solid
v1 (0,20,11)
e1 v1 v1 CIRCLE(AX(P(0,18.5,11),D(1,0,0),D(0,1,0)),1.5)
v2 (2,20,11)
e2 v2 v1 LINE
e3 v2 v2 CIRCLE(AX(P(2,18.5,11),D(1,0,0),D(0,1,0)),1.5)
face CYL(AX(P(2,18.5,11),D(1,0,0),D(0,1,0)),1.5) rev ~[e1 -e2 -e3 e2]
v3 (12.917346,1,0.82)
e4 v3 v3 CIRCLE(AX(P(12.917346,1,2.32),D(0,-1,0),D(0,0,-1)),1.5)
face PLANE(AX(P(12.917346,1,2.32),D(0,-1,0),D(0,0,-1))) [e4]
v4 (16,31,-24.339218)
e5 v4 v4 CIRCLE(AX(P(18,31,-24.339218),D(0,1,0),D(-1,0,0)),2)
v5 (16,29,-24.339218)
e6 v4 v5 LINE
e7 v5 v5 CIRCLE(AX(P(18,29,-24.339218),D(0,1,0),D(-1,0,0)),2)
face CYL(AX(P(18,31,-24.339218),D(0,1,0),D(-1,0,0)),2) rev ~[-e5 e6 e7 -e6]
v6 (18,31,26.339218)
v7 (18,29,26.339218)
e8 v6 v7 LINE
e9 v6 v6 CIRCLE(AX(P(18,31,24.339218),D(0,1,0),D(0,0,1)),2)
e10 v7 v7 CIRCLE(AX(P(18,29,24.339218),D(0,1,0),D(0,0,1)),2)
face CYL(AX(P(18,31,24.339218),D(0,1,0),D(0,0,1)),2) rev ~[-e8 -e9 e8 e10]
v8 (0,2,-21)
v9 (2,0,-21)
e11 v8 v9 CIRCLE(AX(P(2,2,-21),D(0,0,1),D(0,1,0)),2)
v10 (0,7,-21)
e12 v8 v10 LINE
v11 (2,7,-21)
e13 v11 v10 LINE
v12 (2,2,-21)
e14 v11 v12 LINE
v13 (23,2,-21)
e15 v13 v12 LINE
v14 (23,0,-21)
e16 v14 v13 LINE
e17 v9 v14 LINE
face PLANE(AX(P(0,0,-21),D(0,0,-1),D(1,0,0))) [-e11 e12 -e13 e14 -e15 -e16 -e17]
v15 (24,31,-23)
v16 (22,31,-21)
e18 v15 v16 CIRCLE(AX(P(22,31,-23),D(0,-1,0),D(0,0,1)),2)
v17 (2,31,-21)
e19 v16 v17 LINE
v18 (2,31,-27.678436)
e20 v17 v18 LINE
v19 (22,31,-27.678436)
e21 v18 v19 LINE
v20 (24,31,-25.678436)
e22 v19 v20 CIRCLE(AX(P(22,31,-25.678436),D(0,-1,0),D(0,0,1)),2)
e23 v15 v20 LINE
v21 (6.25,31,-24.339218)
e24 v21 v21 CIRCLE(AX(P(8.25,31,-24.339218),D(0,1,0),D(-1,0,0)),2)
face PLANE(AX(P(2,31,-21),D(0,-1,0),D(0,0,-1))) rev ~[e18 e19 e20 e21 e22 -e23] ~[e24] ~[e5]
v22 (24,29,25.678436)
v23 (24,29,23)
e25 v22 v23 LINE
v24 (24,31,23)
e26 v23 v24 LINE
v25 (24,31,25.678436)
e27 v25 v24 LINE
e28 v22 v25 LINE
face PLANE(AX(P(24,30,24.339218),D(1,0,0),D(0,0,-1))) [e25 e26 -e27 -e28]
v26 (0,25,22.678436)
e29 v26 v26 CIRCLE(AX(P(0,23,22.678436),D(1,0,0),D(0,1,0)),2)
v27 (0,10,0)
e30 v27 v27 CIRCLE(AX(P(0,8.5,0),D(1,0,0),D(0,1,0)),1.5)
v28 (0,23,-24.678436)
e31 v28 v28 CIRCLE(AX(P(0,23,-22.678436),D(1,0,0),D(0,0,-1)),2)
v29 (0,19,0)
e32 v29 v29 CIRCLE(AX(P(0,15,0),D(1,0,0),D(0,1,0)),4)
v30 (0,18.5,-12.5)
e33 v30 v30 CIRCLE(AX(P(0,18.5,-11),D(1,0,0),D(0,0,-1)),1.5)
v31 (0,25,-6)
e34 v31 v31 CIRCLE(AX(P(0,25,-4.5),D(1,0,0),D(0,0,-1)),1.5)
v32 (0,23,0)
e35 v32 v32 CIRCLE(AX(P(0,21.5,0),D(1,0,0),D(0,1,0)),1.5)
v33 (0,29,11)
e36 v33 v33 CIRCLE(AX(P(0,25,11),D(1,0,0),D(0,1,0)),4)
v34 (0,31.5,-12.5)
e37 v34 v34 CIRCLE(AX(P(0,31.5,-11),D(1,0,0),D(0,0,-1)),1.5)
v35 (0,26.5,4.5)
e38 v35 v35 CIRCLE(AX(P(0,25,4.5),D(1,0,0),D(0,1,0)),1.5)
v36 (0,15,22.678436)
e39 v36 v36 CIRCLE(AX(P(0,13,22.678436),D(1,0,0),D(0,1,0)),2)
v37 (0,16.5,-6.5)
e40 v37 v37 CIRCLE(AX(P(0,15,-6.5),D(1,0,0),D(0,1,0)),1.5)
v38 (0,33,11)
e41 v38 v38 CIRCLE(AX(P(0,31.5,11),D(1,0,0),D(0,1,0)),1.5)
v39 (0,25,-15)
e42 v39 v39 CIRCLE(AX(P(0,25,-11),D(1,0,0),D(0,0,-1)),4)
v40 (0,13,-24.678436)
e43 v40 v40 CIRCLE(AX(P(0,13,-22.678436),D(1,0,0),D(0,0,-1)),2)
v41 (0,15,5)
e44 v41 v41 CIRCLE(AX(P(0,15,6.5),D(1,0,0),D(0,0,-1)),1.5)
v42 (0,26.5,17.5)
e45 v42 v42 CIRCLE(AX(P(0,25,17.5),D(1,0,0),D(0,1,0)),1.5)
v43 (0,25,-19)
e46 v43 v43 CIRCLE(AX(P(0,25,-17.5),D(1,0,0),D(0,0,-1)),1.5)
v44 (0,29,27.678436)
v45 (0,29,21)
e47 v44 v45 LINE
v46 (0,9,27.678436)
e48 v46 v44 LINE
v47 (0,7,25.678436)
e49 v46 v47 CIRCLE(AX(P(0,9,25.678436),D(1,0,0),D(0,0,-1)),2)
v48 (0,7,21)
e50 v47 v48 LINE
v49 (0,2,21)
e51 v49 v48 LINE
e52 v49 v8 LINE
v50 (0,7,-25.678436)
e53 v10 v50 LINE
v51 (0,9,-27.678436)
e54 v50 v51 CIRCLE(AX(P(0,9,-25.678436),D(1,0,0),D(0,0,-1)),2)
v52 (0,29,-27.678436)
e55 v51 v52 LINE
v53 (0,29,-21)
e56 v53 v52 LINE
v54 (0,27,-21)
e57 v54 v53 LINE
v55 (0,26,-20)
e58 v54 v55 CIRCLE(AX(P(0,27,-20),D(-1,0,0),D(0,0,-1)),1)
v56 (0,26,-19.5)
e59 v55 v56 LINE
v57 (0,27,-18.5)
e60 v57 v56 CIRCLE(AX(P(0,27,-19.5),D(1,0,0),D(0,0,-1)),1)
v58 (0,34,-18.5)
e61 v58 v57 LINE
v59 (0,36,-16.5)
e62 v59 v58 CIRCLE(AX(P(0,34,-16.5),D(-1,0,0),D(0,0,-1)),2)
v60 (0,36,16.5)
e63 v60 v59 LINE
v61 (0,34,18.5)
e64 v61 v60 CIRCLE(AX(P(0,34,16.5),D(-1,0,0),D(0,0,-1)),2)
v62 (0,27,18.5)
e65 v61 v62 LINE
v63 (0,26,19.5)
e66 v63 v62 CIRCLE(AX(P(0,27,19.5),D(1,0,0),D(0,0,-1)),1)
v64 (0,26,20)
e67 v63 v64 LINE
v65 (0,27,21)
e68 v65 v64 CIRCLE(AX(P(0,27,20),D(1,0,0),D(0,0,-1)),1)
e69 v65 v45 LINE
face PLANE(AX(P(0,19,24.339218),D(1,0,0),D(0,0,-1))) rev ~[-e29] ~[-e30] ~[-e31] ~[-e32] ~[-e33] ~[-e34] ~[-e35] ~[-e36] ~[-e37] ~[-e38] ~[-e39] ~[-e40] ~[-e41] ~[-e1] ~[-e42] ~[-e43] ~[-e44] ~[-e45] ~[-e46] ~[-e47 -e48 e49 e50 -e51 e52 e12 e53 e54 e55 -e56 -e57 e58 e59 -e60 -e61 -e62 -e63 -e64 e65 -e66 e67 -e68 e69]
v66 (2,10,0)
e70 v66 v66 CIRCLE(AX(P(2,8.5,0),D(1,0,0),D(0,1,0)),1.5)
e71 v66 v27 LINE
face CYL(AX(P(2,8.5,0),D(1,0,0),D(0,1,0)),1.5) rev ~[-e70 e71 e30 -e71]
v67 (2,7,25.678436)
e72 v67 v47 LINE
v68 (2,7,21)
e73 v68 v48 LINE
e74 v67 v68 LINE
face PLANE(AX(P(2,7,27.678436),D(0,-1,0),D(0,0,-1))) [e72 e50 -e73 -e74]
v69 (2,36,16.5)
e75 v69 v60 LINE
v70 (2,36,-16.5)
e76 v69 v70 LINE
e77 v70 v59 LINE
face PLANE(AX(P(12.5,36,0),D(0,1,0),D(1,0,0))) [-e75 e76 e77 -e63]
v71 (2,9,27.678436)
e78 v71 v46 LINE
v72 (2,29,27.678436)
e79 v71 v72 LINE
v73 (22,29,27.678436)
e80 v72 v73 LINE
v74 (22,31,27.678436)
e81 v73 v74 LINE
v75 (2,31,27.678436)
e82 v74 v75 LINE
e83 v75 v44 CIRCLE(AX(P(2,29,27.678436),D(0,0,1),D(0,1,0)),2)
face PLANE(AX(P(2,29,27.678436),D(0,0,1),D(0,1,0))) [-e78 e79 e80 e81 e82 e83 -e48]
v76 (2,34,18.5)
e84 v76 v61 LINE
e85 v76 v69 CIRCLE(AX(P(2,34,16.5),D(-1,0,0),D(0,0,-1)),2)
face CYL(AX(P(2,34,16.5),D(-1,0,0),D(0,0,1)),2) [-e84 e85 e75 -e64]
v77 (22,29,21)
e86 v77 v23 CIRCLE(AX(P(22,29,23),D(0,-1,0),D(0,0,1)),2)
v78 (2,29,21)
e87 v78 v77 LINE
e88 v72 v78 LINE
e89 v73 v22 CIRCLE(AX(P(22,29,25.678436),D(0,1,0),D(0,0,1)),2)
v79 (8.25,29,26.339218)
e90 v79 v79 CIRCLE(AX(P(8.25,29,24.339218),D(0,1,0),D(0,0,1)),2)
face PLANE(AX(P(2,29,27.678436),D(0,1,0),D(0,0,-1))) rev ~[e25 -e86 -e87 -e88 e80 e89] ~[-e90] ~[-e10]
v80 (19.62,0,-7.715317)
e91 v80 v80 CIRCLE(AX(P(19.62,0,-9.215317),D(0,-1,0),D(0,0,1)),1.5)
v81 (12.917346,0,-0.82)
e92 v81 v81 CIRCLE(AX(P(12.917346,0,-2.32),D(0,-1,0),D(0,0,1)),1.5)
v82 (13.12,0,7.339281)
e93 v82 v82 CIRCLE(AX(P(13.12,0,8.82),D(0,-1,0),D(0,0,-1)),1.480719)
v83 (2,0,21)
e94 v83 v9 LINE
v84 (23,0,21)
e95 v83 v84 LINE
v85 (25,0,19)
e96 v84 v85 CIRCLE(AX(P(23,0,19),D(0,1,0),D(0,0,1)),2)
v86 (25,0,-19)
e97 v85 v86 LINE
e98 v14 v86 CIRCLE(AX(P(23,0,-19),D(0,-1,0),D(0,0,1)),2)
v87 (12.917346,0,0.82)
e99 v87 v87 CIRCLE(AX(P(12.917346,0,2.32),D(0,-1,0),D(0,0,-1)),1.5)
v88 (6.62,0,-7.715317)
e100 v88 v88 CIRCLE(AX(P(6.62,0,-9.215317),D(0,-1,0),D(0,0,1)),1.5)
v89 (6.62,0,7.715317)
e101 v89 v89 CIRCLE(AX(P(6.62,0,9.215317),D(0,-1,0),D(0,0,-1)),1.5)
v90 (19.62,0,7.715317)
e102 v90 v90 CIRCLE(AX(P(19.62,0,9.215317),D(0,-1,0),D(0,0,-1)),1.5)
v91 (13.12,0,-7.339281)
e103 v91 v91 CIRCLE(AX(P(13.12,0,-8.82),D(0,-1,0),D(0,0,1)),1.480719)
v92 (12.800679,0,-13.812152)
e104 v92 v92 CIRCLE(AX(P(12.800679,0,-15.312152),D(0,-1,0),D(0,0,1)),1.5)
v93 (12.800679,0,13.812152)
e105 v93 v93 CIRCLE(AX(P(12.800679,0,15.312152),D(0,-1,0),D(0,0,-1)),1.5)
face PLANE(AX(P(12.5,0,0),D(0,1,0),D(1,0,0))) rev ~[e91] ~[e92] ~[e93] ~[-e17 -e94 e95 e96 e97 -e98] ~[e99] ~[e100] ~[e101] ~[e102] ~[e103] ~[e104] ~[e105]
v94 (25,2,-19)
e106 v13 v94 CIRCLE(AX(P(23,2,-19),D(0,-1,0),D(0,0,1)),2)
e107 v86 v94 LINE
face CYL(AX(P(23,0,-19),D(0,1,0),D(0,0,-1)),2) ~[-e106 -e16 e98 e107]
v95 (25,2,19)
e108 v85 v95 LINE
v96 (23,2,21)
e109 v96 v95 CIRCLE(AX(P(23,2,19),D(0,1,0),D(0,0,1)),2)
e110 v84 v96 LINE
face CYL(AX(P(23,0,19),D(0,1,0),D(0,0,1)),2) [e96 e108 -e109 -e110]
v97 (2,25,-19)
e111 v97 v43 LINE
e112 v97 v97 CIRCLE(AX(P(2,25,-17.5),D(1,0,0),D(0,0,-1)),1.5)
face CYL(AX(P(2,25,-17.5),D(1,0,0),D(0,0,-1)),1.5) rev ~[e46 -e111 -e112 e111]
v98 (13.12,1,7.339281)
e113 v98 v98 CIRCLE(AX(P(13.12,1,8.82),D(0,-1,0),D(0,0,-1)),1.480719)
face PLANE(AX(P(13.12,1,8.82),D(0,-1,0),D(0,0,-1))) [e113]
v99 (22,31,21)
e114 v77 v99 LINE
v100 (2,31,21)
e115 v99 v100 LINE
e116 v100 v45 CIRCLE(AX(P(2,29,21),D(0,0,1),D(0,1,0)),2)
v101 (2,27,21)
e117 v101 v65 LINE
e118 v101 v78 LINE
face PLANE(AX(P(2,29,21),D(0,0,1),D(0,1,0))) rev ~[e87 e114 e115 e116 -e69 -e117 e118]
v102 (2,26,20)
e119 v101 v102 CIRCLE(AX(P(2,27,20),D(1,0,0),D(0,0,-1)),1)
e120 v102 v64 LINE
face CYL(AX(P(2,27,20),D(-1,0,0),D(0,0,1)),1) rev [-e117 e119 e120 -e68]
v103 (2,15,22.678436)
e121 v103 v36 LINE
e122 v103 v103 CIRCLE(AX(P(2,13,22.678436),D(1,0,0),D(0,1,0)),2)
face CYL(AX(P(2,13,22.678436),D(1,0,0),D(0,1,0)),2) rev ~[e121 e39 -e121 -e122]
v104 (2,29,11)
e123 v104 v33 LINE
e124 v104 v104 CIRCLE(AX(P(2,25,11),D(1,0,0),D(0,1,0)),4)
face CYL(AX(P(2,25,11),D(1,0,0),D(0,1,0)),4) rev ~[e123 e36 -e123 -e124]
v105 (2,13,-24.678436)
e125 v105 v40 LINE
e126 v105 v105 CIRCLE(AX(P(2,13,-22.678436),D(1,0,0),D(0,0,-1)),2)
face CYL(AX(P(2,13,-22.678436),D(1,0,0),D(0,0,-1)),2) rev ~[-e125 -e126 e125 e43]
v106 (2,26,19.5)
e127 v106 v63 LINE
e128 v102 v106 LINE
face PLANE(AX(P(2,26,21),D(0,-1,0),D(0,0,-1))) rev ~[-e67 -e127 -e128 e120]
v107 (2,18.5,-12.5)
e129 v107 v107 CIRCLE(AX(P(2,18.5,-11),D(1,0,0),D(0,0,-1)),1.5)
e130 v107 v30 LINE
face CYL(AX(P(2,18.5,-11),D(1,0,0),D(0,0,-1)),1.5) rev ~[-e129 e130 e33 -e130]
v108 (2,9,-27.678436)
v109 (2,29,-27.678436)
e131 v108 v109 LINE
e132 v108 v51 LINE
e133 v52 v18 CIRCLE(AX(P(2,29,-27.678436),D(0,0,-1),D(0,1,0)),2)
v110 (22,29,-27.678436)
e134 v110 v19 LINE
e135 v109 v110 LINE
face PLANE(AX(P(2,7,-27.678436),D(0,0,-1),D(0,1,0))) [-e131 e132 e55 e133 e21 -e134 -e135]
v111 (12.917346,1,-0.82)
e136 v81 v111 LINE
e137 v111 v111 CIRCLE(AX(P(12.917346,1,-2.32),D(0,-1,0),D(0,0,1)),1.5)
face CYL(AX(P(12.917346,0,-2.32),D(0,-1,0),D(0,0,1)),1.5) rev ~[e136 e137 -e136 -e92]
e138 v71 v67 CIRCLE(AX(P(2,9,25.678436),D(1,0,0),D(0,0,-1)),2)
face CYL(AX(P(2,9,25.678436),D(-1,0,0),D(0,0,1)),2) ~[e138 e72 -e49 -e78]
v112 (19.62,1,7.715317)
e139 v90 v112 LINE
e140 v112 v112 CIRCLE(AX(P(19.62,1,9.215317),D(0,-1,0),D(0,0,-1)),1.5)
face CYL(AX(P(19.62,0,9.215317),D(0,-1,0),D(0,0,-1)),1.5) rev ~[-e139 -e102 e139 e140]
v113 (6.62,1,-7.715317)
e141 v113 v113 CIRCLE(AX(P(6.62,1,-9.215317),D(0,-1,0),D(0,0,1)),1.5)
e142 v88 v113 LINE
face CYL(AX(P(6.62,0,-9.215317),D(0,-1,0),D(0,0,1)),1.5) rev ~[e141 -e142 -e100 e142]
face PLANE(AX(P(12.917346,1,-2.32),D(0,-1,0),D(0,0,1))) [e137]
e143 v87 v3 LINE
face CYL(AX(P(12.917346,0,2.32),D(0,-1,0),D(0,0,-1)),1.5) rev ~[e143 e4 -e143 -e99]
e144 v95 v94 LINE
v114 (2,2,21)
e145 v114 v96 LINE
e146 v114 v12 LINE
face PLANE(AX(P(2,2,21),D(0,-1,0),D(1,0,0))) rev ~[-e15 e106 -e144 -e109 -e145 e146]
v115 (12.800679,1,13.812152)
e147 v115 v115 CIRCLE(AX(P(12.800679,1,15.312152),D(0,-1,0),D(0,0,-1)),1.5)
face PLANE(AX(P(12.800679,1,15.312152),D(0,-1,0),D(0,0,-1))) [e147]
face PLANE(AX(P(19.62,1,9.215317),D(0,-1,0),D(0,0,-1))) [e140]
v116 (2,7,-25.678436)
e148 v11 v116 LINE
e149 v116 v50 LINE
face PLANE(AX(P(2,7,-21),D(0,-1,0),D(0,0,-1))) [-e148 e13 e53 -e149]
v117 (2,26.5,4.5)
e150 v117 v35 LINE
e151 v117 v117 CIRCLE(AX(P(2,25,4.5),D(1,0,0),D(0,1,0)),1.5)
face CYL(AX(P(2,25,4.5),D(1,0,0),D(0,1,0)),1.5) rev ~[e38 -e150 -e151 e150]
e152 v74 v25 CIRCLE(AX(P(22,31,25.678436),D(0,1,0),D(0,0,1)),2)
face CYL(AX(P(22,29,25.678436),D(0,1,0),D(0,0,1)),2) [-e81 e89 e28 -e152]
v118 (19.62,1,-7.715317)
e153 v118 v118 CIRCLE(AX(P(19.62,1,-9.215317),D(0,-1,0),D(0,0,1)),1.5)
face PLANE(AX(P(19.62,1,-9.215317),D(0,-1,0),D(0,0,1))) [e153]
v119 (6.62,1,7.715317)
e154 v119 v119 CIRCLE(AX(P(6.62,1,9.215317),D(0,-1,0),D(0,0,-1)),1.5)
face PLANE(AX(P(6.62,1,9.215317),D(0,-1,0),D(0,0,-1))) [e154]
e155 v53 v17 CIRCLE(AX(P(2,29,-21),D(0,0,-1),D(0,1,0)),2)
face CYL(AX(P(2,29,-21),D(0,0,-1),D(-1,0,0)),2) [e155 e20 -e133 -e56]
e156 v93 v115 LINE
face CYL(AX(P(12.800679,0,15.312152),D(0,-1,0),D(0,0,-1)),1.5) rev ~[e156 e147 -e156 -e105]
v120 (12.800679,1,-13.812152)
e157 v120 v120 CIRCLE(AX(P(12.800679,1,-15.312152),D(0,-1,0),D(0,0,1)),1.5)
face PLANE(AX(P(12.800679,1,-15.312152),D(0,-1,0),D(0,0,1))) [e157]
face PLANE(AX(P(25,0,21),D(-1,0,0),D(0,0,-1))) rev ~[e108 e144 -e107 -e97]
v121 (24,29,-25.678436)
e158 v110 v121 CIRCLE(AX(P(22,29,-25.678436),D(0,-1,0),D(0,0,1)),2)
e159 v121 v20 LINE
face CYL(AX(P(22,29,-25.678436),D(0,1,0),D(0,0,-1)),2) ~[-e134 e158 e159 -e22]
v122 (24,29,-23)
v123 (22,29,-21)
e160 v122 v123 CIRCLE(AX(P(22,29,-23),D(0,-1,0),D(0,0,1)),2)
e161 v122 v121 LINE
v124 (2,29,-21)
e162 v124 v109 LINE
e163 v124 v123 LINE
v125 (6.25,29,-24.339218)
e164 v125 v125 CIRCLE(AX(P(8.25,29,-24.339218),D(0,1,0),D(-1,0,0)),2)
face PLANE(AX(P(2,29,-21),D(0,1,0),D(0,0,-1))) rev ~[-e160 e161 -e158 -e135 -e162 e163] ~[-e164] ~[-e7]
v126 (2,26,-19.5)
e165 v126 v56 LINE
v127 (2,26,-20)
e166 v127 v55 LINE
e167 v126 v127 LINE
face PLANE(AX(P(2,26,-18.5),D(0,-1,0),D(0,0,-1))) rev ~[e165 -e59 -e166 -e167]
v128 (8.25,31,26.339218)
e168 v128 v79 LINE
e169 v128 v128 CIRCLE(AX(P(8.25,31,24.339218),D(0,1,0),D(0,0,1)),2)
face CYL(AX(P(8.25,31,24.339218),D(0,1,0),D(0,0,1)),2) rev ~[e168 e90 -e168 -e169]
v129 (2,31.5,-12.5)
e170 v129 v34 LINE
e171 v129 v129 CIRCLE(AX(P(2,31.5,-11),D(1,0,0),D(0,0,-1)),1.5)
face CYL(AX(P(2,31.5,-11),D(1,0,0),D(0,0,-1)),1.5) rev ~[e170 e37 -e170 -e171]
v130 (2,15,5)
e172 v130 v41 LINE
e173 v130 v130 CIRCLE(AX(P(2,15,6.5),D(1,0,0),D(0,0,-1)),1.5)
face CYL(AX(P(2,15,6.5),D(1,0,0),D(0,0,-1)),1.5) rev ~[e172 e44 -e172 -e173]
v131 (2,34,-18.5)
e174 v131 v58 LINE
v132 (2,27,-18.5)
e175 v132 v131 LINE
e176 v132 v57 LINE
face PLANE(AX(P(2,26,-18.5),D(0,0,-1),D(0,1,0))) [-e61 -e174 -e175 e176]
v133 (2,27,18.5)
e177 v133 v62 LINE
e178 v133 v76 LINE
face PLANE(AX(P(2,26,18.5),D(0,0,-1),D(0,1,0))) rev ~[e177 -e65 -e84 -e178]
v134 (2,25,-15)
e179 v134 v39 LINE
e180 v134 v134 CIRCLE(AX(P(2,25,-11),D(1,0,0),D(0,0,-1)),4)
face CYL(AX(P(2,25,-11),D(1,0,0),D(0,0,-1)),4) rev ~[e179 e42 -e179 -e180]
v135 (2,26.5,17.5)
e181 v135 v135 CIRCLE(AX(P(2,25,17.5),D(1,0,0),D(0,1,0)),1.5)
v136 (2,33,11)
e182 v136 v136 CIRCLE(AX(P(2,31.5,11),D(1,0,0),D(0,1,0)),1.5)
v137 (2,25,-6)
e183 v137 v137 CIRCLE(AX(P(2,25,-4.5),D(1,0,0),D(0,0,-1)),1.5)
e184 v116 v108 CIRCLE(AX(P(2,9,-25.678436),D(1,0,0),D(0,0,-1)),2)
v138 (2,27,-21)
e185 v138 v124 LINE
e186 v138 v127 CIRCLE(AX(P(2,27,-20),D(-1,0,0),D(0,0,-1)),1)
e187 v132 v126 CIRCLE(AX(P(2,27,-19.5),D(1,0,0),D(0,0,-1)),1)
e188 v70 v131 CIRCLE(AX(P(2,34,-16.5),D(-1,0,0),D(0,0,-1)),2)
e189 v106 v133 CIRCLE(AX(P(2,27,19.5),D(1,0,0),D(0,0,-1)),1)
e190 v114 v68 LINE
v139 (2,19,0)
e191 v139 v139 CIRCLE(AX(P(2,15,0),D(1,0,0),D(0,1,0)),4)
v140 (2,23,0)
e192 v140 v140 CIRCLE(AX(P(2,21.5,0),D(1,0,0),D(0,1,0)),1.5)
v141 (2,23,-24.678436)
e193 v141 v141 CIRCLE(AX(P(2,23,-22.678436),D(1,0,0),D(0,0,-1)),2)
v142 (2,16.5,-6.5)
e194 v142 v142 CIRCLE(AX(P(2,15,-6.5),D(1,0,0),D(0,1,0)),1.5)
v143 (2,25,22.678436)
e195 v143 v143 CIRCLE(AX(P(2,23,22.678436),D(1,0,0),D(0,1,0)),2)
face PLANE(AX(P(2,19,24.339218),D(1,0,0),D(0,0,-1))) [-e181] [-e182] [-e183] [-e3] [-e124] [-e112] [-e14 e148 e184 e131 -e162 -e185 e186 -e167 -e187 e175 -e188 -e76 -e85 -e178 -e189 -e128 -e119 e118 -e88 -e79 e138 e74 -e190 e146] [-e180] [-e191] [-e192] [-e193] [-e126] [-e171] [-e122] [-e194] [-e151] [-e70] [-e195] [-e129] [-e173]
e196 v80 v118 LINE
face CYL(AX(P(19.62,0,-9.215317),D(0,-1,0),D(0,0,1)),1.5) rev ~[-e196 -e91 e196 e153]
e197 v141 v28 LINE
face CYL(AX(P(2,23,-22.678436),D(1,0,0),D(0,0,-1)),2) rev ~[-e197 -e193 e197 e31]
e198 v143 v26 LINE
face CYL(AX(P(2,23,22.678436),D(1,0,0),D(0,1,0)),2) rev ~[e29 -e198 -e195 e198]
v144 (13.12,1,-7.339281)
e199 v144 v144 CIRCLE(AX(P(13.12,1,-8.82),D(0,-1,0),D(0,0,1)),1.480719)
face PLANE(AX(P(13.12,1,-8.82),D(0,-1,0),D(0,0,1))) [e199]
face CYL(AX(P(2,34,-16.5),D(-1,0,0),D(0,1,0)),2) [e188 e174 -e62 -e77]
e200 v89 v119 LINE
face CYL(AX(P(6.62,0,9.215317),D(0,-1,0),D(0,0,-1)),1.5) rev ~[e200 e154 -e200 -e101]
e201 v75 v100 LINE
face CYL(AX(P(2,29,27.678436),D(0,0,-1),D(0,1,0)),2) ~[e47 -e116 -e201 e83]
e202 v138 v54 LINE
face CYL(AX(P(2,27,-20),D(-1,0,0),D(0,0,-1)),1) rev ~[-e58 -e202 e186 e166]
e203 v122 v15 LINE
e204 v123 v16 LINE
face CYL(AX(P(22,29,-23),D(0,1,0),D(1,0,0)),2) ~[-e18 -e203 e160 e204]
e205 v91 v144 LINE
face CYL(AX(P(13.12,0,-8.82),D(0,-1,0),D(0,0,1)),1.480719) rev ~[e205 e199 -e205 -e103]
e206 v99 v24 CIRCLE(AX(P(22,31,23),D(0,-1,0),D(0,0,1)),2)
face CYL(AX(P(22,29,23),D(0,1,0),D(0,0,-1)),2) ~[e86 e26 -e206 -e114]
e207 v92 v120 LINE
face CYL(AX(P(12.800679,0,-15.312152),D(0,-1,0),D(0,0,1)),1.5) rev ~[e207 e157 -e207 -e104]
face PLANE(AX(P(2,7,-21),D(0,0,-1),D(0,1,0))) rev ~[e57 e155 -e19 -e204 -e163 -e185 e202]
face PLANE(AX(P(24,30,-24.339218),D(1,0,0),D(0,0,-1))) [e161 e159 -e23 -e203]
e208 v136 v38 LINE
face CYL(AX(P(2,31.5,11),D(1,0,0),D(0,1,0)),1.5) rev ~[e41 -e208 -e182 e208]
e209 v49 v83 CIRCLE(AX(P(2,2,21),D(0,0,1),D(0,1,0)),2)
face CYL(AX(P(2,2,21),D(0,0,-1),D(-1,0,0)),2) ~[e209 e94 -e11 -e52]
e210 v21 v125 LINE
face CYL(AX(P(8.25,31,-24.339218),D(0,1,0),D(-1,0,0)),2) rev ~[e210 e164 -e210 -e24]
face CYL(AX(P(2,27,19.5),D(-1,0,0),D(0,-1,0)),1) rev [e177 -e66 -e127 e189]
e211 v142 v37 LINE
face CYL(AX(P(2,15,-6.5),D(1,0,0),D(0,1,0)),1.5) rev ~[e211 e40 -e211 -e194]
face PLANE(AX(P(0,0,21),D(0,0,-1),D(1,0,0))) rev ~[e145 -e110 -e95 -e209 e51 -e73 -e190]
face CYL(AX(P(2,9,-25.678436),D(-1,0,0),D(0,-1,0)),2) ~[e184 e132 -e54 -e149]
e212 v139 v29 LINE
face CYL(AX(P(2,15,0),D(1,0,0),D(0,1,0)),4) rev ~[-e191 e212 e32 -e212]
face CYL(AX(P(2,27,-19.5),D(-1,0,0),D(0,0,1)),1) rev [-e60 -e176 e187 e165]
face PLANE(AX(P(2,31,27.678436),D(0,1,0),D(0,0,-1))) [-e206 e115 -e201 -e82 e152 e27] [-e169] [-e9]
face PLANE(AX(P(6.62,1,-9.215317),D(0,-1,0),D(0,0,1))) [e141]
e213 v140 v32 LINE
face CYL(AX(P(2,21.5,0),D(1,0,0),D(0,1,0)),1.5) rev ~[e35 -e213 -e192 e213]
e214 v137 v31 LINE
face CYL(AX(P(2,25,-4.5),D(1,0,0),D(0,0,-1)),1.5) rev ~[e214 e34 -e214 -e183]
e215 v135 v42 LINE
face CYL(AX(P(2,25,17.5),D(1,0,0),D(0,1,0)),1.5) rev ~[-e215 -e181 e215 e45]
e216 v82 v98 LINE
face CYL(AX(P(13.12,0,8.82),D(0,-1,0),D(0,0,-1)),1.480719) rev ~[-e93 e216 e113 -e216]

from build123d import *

# Parameters (mm, degrees)
SKETCH2_W           = 25
SKETCH2_H           = 42
BOSS_EXTRUDE1_DEPTH = 36
SKETCH4_W           = 23
SKETCH4_H           = 34
CUT_EXTRUDE2_DEPTH  = 61.704200843
FILLET2_R           = 2
SKETCH5_W           = 2.5
SKETCH5_H           = 10
CUT_EXTRUDE3_DEPTH  = 36
FILLET3_R           = 1
FILLET4_R           = 2
SKETCH7_W           = 6.678436395
SKETCH7_H           = 24
BOSS_EXTRUDE2_DEPTH = 2
FILLET5_R           = 2
SKETCH8_W           = 6.678436395
SKETCH8_H           = 2
BOSS_EXTRUDE5_DEPTH = 22
FILLET6_R           = 2
FILLET7_R           = 2
FILLET8_R           = 2
FILLET9_R           = 1
SKETCH10_R          = 2
SKETCH10_R_2        = 4
SKETCH10_R_3        = 1.5
CUT_EXTRUDE5_DEPTH  = 22
SKETCH11_R          = 2
CUT_EXTRUDE6_DEPTH  = 22
SKETCH14_R          = 1.480718613
SKETCH14_R_2        = 1.5
CUT_EXTRUDE8_DEPTH  = 1


with BuildPart() as part:
    # Sketch2 → Boss-Extrude1 (new body)
    with BuildSketch(Plane(origin=(0, 0, 0), x_dir=(1, 0, 0), z_dir=(0, 1, 0))):
        with Locations((12.5, 0)):
            Rectangle(SKETCH2_W, SKETCH2_H)
    extrude(amount=BOSS_EXTRUDE1_DEPTH)

    # Sketch4 → Cut-Extrude2 (cut, through all)
    with BuildSketch(Plane.XY.offset(21)):
        with Locations((13.5, 19)):
            Rectangle(SKETCH4_W, SKETCH4_H)
    extrude(amount=-CUT_EXTRUDE2_DEPTH, mode=Mode.SUBTRACT)

    # Fillet2
    fillet2_edges = [part.edges().sort_by_distance(p)[0] for p in [
        (25, 1, 21),
        (25, 1, -21),
    ]]
    fillet(fillet2_edges, radius=FILLET2_R)

    # Sketch5 → Cut-Extrude3 (cut)
    with BuildSketch(Plane(origin=(2, 0, 0), x_dir=(0, 0, -1), z_dir=(1, 0, 0))):
        with Locations((-19.75, 31)):
            Rectangle(SKETCH5_W, SKETCH5_H)
        with Locations((19.75, 31)):
            Rectangle(SKETCH5_W, SKETCH5_H)
    extrude(amount=-CUT_EXTRUDE3_DEPTH, mode=Mode.SUBTRACT)

    # Fillet3
    fillet3_edges = [part.edges().sort_by_distance(p)[0] for p in [
        (1, 26, 18.5),
        (1, 26, -18.5),
    ]]
    fillet(fillet3_edges, radius=FILLET3_R)

    # Fillet4
    fillet4_edges = [part.edges().sort_by_distance(p)[0] for p in [
        (1, 36, 18.5),
        (1, 36, -18.5),
    ]]
    fillet(fillet4_edges, radius=FILLET4_R)

    # Sketch7 → Boss-Extrude2 (add)
    with BuildSketch(Plane(origin=(2, 0, 0), x_dir=(0, 0, -1), z_dir=(1, 0, 0))):
        with Locations((-24.339218198, 19)):
            Rectangle(SKETCH7_W, SKETCH7_H)
        with Locations((24.339218198, 19)):
            Rectangle(SKETCH7_W, SKETCH7_H)
    extrude(amount=-BOSS_EXTRUDE2_DEPTH)

    # Fillet5
    fillet5_edges = [part.edges().sort_by_distance(p)[0] for p in [
        (1, 7, 27.678436395),
        (1, 7, -27.678436395),
    ]]
    fillet(fillet5_edges, radius=FILLET5_R)

    # Sketch8 → Boss-Extrude5 (add)
    with BuildSketch(Plane(origin=(2, 0, 0), x_dir=(0, 0, -1), z_dir=(1, 0, 0))):
        with Locations((-24.339218198, 30)):
            Rectangle(SKETCH8_W, SKETCH8_H)
        with Locations((24.339218198, 30)):
            Rectangle(SKETCH8_W, SKETCH8_H)
    extrude(amount=BOSS_EXTRUDE5_DEPTH)

    # Fillet6
    fillet6_edges = [part.edges().sort_by_distance(p)[0] for p in [
        (24, 30, 27.678436395),
        (24, 30, 21),
        (24, 30, -21),
        (24, 30, -27.678436395),
    ]]
    fillet(fillet6_edges, radius=FILLET6_R)

    # Fillet7
    fillet7_edges = [part.edges().sort_by_distance(p)[0] for p in [
        (0, 31, 24.339218197),
        (0, 31, -24.339218197),
    ]]
    fillet(fillet7_edges, radius=FILLET7_R)

    # Fillet8
    fillet8_edges = [part.edges().sort_by_distance(p)[0] for p in [
        (0, 0, 0),
    ]]
    fillet(fillet8_edges, radius=FILLET8_R)

    # Fillet9
    fillet9_edges = [part.edges().sort_by_distance(p)[0] for p in [
        (1, 26, 21),
        (1, 26, -21),
    ]]
    fillet(fillet9_edges, radius=FILLET9_R)

    # Sketch10 → Cut-Extrude5 (cut)
    with BuildSketch(Plane(origin=(2, 0, 0), x_dir=(0, 0, -1), z_dir=(1, 0, 0))):
        with Locations(Location((-22.678436395, 13, 0), (0, 0, 90))):
            Circle(SKETCH10_R)
        with Locations(Location((-22.678436395, 23, 0), (0, 0, 90))):
            Circle(SKETCH10_R)
        with Locations((22.678436395, 13)):
            Circle(SKETCH10_R)
        with Locations((22.678436395, 23)):
            Circle(SKETCH10_R)
        with Locations(Location((-11, 25, 0), (0, 0, 90))):
            Circle(SKETCH10_R_2)
        with Locations(Location((-11, 31.5, 0), (0, 0, 90))):
            Circle(SKETCH10_R_3)
        with Locations(Location((-11, 18.5, 0), (0, 0, 90))):
            Circle(SKETCH10_R_3)
        with Locations(Location((-17.5, 25, 0), (0, 0, 90))):
            Circle(SKETCH10_R_3)
        with Locations(Location((-4.5, 25, 0), (0, 0, 90))):
            Circle(SKETCH10_R_3)
        with Locations((11, 18.5)):
            Circle(SKETCH10_R_3)
        with Locations((4.5, 25)):
            Circle(SKETCH10_R_3)
        with Locations((17.5, 25)):
            Circle(SKETCH10_R_3)
        with Locations((11, 31.5)):
            Circle(SKETCH10_R_3)
        with Locations((11, 25)):
            Circle(SKETCH10_R_2)
        with Locations(Location((0, 15, 0), (0, 0, 90))):
            Circle(SKETCH10_R_2)
        with Locations(Location((6.5, 15, 0), (0, 0, 90))):
            Circle(SKETCH10_R_3)
        with Locations(Location((0, 8.5, 0), (0, 0, 90))):
            Circle(SKETCH10_R_3)
        with Locations(Location((0, 21.5, 0), (0, 0, 90))):
            Circle(SKETCH10_R_3)
        with Locations((-6.5, 15)):
            Circle(SKETCH10_R_3)
    extrude(amount=-CUT_EXTRUDE5_DEPTH, mode=Mode.SUBTRACT)

    # Sketch11 → Cut-Extrude6 (cut)
    with BuildSketch(Plane(origin=(0, 31, 0), x_dir=(1, 0, 0), z_dir=(0, 1, 0))):
        with Locations(Location((18, -24.339218197, 0), (0, 0, 270))):
            Circle(SKETCH11_R)
        with Locations(Location((8.25, -24.339218197, 0), (0, 0, 270))):
            Circle(SKETCH11_R)
        with Locations(Location((18, 24.339218197, 0), (0, 0, 180))):
            Circle(SKETCH11_R)
        with Locations(Location((8.25, 24.339218197, 0), (0, 0, 180))):
            Circle(SKETCH11_R)
    extrude(amount=-CUT_EXTRUDE6_DEPTH, mode=Mode.SUBTRACT)

    # Sketch14 → Cut-Extrude8 (cut)
    with BuildSketch(Plane.XZ):
        with Locations(Location((13.12, 8.82, 0), (0, 0, 270))):
            Circle(SKETCH14_R)
        with Locations(Location((19.62, 9.215317048, 0), (0, 0, 270))):
            Circle(SKETCH14_R_2)
        with Locations(Location((6.62, 9.215317048, 0), (0, 0, 270))):
            Circle(SKETCH14_R_2)
        with Locations(Location((12.800679274, 15.312151745, 0), (0, 0, 270))):
            Circle(SKETCH14_R_2)
        with Locations(Location((12.917346355, 2.32, 0), (0, 0, 270))):
            Circle(SKETCH14_R_2)
        with Locations(Location((12.917346355, -2.32, 0), (0, 0, 90))):
            Circle(SKETCH14_R_2)
        with Locations(Location((19.62, -9.215317048, 0), (0, 0, 90))):
            Circle(SKETCH14_R_2)
        with Locations(Location((13.12, -8.82, 0), (0, 0, 90))):
            Circle(SKETCH14_R)
        with Locations(Location((6.62, -9.215317048, 0), (0, 0, 90))):
            Circle(SKETCH14_R_2)
        with Locations(Location((12.800679274, -15.312151745, 0), (0, 0, 90))):
            Circle(SKETCH14_R_2)
    extrude(amount=-CUT_EXTRUDE8_DEPTH, mode=Mode.SUBTRACT)


solid = part.part
